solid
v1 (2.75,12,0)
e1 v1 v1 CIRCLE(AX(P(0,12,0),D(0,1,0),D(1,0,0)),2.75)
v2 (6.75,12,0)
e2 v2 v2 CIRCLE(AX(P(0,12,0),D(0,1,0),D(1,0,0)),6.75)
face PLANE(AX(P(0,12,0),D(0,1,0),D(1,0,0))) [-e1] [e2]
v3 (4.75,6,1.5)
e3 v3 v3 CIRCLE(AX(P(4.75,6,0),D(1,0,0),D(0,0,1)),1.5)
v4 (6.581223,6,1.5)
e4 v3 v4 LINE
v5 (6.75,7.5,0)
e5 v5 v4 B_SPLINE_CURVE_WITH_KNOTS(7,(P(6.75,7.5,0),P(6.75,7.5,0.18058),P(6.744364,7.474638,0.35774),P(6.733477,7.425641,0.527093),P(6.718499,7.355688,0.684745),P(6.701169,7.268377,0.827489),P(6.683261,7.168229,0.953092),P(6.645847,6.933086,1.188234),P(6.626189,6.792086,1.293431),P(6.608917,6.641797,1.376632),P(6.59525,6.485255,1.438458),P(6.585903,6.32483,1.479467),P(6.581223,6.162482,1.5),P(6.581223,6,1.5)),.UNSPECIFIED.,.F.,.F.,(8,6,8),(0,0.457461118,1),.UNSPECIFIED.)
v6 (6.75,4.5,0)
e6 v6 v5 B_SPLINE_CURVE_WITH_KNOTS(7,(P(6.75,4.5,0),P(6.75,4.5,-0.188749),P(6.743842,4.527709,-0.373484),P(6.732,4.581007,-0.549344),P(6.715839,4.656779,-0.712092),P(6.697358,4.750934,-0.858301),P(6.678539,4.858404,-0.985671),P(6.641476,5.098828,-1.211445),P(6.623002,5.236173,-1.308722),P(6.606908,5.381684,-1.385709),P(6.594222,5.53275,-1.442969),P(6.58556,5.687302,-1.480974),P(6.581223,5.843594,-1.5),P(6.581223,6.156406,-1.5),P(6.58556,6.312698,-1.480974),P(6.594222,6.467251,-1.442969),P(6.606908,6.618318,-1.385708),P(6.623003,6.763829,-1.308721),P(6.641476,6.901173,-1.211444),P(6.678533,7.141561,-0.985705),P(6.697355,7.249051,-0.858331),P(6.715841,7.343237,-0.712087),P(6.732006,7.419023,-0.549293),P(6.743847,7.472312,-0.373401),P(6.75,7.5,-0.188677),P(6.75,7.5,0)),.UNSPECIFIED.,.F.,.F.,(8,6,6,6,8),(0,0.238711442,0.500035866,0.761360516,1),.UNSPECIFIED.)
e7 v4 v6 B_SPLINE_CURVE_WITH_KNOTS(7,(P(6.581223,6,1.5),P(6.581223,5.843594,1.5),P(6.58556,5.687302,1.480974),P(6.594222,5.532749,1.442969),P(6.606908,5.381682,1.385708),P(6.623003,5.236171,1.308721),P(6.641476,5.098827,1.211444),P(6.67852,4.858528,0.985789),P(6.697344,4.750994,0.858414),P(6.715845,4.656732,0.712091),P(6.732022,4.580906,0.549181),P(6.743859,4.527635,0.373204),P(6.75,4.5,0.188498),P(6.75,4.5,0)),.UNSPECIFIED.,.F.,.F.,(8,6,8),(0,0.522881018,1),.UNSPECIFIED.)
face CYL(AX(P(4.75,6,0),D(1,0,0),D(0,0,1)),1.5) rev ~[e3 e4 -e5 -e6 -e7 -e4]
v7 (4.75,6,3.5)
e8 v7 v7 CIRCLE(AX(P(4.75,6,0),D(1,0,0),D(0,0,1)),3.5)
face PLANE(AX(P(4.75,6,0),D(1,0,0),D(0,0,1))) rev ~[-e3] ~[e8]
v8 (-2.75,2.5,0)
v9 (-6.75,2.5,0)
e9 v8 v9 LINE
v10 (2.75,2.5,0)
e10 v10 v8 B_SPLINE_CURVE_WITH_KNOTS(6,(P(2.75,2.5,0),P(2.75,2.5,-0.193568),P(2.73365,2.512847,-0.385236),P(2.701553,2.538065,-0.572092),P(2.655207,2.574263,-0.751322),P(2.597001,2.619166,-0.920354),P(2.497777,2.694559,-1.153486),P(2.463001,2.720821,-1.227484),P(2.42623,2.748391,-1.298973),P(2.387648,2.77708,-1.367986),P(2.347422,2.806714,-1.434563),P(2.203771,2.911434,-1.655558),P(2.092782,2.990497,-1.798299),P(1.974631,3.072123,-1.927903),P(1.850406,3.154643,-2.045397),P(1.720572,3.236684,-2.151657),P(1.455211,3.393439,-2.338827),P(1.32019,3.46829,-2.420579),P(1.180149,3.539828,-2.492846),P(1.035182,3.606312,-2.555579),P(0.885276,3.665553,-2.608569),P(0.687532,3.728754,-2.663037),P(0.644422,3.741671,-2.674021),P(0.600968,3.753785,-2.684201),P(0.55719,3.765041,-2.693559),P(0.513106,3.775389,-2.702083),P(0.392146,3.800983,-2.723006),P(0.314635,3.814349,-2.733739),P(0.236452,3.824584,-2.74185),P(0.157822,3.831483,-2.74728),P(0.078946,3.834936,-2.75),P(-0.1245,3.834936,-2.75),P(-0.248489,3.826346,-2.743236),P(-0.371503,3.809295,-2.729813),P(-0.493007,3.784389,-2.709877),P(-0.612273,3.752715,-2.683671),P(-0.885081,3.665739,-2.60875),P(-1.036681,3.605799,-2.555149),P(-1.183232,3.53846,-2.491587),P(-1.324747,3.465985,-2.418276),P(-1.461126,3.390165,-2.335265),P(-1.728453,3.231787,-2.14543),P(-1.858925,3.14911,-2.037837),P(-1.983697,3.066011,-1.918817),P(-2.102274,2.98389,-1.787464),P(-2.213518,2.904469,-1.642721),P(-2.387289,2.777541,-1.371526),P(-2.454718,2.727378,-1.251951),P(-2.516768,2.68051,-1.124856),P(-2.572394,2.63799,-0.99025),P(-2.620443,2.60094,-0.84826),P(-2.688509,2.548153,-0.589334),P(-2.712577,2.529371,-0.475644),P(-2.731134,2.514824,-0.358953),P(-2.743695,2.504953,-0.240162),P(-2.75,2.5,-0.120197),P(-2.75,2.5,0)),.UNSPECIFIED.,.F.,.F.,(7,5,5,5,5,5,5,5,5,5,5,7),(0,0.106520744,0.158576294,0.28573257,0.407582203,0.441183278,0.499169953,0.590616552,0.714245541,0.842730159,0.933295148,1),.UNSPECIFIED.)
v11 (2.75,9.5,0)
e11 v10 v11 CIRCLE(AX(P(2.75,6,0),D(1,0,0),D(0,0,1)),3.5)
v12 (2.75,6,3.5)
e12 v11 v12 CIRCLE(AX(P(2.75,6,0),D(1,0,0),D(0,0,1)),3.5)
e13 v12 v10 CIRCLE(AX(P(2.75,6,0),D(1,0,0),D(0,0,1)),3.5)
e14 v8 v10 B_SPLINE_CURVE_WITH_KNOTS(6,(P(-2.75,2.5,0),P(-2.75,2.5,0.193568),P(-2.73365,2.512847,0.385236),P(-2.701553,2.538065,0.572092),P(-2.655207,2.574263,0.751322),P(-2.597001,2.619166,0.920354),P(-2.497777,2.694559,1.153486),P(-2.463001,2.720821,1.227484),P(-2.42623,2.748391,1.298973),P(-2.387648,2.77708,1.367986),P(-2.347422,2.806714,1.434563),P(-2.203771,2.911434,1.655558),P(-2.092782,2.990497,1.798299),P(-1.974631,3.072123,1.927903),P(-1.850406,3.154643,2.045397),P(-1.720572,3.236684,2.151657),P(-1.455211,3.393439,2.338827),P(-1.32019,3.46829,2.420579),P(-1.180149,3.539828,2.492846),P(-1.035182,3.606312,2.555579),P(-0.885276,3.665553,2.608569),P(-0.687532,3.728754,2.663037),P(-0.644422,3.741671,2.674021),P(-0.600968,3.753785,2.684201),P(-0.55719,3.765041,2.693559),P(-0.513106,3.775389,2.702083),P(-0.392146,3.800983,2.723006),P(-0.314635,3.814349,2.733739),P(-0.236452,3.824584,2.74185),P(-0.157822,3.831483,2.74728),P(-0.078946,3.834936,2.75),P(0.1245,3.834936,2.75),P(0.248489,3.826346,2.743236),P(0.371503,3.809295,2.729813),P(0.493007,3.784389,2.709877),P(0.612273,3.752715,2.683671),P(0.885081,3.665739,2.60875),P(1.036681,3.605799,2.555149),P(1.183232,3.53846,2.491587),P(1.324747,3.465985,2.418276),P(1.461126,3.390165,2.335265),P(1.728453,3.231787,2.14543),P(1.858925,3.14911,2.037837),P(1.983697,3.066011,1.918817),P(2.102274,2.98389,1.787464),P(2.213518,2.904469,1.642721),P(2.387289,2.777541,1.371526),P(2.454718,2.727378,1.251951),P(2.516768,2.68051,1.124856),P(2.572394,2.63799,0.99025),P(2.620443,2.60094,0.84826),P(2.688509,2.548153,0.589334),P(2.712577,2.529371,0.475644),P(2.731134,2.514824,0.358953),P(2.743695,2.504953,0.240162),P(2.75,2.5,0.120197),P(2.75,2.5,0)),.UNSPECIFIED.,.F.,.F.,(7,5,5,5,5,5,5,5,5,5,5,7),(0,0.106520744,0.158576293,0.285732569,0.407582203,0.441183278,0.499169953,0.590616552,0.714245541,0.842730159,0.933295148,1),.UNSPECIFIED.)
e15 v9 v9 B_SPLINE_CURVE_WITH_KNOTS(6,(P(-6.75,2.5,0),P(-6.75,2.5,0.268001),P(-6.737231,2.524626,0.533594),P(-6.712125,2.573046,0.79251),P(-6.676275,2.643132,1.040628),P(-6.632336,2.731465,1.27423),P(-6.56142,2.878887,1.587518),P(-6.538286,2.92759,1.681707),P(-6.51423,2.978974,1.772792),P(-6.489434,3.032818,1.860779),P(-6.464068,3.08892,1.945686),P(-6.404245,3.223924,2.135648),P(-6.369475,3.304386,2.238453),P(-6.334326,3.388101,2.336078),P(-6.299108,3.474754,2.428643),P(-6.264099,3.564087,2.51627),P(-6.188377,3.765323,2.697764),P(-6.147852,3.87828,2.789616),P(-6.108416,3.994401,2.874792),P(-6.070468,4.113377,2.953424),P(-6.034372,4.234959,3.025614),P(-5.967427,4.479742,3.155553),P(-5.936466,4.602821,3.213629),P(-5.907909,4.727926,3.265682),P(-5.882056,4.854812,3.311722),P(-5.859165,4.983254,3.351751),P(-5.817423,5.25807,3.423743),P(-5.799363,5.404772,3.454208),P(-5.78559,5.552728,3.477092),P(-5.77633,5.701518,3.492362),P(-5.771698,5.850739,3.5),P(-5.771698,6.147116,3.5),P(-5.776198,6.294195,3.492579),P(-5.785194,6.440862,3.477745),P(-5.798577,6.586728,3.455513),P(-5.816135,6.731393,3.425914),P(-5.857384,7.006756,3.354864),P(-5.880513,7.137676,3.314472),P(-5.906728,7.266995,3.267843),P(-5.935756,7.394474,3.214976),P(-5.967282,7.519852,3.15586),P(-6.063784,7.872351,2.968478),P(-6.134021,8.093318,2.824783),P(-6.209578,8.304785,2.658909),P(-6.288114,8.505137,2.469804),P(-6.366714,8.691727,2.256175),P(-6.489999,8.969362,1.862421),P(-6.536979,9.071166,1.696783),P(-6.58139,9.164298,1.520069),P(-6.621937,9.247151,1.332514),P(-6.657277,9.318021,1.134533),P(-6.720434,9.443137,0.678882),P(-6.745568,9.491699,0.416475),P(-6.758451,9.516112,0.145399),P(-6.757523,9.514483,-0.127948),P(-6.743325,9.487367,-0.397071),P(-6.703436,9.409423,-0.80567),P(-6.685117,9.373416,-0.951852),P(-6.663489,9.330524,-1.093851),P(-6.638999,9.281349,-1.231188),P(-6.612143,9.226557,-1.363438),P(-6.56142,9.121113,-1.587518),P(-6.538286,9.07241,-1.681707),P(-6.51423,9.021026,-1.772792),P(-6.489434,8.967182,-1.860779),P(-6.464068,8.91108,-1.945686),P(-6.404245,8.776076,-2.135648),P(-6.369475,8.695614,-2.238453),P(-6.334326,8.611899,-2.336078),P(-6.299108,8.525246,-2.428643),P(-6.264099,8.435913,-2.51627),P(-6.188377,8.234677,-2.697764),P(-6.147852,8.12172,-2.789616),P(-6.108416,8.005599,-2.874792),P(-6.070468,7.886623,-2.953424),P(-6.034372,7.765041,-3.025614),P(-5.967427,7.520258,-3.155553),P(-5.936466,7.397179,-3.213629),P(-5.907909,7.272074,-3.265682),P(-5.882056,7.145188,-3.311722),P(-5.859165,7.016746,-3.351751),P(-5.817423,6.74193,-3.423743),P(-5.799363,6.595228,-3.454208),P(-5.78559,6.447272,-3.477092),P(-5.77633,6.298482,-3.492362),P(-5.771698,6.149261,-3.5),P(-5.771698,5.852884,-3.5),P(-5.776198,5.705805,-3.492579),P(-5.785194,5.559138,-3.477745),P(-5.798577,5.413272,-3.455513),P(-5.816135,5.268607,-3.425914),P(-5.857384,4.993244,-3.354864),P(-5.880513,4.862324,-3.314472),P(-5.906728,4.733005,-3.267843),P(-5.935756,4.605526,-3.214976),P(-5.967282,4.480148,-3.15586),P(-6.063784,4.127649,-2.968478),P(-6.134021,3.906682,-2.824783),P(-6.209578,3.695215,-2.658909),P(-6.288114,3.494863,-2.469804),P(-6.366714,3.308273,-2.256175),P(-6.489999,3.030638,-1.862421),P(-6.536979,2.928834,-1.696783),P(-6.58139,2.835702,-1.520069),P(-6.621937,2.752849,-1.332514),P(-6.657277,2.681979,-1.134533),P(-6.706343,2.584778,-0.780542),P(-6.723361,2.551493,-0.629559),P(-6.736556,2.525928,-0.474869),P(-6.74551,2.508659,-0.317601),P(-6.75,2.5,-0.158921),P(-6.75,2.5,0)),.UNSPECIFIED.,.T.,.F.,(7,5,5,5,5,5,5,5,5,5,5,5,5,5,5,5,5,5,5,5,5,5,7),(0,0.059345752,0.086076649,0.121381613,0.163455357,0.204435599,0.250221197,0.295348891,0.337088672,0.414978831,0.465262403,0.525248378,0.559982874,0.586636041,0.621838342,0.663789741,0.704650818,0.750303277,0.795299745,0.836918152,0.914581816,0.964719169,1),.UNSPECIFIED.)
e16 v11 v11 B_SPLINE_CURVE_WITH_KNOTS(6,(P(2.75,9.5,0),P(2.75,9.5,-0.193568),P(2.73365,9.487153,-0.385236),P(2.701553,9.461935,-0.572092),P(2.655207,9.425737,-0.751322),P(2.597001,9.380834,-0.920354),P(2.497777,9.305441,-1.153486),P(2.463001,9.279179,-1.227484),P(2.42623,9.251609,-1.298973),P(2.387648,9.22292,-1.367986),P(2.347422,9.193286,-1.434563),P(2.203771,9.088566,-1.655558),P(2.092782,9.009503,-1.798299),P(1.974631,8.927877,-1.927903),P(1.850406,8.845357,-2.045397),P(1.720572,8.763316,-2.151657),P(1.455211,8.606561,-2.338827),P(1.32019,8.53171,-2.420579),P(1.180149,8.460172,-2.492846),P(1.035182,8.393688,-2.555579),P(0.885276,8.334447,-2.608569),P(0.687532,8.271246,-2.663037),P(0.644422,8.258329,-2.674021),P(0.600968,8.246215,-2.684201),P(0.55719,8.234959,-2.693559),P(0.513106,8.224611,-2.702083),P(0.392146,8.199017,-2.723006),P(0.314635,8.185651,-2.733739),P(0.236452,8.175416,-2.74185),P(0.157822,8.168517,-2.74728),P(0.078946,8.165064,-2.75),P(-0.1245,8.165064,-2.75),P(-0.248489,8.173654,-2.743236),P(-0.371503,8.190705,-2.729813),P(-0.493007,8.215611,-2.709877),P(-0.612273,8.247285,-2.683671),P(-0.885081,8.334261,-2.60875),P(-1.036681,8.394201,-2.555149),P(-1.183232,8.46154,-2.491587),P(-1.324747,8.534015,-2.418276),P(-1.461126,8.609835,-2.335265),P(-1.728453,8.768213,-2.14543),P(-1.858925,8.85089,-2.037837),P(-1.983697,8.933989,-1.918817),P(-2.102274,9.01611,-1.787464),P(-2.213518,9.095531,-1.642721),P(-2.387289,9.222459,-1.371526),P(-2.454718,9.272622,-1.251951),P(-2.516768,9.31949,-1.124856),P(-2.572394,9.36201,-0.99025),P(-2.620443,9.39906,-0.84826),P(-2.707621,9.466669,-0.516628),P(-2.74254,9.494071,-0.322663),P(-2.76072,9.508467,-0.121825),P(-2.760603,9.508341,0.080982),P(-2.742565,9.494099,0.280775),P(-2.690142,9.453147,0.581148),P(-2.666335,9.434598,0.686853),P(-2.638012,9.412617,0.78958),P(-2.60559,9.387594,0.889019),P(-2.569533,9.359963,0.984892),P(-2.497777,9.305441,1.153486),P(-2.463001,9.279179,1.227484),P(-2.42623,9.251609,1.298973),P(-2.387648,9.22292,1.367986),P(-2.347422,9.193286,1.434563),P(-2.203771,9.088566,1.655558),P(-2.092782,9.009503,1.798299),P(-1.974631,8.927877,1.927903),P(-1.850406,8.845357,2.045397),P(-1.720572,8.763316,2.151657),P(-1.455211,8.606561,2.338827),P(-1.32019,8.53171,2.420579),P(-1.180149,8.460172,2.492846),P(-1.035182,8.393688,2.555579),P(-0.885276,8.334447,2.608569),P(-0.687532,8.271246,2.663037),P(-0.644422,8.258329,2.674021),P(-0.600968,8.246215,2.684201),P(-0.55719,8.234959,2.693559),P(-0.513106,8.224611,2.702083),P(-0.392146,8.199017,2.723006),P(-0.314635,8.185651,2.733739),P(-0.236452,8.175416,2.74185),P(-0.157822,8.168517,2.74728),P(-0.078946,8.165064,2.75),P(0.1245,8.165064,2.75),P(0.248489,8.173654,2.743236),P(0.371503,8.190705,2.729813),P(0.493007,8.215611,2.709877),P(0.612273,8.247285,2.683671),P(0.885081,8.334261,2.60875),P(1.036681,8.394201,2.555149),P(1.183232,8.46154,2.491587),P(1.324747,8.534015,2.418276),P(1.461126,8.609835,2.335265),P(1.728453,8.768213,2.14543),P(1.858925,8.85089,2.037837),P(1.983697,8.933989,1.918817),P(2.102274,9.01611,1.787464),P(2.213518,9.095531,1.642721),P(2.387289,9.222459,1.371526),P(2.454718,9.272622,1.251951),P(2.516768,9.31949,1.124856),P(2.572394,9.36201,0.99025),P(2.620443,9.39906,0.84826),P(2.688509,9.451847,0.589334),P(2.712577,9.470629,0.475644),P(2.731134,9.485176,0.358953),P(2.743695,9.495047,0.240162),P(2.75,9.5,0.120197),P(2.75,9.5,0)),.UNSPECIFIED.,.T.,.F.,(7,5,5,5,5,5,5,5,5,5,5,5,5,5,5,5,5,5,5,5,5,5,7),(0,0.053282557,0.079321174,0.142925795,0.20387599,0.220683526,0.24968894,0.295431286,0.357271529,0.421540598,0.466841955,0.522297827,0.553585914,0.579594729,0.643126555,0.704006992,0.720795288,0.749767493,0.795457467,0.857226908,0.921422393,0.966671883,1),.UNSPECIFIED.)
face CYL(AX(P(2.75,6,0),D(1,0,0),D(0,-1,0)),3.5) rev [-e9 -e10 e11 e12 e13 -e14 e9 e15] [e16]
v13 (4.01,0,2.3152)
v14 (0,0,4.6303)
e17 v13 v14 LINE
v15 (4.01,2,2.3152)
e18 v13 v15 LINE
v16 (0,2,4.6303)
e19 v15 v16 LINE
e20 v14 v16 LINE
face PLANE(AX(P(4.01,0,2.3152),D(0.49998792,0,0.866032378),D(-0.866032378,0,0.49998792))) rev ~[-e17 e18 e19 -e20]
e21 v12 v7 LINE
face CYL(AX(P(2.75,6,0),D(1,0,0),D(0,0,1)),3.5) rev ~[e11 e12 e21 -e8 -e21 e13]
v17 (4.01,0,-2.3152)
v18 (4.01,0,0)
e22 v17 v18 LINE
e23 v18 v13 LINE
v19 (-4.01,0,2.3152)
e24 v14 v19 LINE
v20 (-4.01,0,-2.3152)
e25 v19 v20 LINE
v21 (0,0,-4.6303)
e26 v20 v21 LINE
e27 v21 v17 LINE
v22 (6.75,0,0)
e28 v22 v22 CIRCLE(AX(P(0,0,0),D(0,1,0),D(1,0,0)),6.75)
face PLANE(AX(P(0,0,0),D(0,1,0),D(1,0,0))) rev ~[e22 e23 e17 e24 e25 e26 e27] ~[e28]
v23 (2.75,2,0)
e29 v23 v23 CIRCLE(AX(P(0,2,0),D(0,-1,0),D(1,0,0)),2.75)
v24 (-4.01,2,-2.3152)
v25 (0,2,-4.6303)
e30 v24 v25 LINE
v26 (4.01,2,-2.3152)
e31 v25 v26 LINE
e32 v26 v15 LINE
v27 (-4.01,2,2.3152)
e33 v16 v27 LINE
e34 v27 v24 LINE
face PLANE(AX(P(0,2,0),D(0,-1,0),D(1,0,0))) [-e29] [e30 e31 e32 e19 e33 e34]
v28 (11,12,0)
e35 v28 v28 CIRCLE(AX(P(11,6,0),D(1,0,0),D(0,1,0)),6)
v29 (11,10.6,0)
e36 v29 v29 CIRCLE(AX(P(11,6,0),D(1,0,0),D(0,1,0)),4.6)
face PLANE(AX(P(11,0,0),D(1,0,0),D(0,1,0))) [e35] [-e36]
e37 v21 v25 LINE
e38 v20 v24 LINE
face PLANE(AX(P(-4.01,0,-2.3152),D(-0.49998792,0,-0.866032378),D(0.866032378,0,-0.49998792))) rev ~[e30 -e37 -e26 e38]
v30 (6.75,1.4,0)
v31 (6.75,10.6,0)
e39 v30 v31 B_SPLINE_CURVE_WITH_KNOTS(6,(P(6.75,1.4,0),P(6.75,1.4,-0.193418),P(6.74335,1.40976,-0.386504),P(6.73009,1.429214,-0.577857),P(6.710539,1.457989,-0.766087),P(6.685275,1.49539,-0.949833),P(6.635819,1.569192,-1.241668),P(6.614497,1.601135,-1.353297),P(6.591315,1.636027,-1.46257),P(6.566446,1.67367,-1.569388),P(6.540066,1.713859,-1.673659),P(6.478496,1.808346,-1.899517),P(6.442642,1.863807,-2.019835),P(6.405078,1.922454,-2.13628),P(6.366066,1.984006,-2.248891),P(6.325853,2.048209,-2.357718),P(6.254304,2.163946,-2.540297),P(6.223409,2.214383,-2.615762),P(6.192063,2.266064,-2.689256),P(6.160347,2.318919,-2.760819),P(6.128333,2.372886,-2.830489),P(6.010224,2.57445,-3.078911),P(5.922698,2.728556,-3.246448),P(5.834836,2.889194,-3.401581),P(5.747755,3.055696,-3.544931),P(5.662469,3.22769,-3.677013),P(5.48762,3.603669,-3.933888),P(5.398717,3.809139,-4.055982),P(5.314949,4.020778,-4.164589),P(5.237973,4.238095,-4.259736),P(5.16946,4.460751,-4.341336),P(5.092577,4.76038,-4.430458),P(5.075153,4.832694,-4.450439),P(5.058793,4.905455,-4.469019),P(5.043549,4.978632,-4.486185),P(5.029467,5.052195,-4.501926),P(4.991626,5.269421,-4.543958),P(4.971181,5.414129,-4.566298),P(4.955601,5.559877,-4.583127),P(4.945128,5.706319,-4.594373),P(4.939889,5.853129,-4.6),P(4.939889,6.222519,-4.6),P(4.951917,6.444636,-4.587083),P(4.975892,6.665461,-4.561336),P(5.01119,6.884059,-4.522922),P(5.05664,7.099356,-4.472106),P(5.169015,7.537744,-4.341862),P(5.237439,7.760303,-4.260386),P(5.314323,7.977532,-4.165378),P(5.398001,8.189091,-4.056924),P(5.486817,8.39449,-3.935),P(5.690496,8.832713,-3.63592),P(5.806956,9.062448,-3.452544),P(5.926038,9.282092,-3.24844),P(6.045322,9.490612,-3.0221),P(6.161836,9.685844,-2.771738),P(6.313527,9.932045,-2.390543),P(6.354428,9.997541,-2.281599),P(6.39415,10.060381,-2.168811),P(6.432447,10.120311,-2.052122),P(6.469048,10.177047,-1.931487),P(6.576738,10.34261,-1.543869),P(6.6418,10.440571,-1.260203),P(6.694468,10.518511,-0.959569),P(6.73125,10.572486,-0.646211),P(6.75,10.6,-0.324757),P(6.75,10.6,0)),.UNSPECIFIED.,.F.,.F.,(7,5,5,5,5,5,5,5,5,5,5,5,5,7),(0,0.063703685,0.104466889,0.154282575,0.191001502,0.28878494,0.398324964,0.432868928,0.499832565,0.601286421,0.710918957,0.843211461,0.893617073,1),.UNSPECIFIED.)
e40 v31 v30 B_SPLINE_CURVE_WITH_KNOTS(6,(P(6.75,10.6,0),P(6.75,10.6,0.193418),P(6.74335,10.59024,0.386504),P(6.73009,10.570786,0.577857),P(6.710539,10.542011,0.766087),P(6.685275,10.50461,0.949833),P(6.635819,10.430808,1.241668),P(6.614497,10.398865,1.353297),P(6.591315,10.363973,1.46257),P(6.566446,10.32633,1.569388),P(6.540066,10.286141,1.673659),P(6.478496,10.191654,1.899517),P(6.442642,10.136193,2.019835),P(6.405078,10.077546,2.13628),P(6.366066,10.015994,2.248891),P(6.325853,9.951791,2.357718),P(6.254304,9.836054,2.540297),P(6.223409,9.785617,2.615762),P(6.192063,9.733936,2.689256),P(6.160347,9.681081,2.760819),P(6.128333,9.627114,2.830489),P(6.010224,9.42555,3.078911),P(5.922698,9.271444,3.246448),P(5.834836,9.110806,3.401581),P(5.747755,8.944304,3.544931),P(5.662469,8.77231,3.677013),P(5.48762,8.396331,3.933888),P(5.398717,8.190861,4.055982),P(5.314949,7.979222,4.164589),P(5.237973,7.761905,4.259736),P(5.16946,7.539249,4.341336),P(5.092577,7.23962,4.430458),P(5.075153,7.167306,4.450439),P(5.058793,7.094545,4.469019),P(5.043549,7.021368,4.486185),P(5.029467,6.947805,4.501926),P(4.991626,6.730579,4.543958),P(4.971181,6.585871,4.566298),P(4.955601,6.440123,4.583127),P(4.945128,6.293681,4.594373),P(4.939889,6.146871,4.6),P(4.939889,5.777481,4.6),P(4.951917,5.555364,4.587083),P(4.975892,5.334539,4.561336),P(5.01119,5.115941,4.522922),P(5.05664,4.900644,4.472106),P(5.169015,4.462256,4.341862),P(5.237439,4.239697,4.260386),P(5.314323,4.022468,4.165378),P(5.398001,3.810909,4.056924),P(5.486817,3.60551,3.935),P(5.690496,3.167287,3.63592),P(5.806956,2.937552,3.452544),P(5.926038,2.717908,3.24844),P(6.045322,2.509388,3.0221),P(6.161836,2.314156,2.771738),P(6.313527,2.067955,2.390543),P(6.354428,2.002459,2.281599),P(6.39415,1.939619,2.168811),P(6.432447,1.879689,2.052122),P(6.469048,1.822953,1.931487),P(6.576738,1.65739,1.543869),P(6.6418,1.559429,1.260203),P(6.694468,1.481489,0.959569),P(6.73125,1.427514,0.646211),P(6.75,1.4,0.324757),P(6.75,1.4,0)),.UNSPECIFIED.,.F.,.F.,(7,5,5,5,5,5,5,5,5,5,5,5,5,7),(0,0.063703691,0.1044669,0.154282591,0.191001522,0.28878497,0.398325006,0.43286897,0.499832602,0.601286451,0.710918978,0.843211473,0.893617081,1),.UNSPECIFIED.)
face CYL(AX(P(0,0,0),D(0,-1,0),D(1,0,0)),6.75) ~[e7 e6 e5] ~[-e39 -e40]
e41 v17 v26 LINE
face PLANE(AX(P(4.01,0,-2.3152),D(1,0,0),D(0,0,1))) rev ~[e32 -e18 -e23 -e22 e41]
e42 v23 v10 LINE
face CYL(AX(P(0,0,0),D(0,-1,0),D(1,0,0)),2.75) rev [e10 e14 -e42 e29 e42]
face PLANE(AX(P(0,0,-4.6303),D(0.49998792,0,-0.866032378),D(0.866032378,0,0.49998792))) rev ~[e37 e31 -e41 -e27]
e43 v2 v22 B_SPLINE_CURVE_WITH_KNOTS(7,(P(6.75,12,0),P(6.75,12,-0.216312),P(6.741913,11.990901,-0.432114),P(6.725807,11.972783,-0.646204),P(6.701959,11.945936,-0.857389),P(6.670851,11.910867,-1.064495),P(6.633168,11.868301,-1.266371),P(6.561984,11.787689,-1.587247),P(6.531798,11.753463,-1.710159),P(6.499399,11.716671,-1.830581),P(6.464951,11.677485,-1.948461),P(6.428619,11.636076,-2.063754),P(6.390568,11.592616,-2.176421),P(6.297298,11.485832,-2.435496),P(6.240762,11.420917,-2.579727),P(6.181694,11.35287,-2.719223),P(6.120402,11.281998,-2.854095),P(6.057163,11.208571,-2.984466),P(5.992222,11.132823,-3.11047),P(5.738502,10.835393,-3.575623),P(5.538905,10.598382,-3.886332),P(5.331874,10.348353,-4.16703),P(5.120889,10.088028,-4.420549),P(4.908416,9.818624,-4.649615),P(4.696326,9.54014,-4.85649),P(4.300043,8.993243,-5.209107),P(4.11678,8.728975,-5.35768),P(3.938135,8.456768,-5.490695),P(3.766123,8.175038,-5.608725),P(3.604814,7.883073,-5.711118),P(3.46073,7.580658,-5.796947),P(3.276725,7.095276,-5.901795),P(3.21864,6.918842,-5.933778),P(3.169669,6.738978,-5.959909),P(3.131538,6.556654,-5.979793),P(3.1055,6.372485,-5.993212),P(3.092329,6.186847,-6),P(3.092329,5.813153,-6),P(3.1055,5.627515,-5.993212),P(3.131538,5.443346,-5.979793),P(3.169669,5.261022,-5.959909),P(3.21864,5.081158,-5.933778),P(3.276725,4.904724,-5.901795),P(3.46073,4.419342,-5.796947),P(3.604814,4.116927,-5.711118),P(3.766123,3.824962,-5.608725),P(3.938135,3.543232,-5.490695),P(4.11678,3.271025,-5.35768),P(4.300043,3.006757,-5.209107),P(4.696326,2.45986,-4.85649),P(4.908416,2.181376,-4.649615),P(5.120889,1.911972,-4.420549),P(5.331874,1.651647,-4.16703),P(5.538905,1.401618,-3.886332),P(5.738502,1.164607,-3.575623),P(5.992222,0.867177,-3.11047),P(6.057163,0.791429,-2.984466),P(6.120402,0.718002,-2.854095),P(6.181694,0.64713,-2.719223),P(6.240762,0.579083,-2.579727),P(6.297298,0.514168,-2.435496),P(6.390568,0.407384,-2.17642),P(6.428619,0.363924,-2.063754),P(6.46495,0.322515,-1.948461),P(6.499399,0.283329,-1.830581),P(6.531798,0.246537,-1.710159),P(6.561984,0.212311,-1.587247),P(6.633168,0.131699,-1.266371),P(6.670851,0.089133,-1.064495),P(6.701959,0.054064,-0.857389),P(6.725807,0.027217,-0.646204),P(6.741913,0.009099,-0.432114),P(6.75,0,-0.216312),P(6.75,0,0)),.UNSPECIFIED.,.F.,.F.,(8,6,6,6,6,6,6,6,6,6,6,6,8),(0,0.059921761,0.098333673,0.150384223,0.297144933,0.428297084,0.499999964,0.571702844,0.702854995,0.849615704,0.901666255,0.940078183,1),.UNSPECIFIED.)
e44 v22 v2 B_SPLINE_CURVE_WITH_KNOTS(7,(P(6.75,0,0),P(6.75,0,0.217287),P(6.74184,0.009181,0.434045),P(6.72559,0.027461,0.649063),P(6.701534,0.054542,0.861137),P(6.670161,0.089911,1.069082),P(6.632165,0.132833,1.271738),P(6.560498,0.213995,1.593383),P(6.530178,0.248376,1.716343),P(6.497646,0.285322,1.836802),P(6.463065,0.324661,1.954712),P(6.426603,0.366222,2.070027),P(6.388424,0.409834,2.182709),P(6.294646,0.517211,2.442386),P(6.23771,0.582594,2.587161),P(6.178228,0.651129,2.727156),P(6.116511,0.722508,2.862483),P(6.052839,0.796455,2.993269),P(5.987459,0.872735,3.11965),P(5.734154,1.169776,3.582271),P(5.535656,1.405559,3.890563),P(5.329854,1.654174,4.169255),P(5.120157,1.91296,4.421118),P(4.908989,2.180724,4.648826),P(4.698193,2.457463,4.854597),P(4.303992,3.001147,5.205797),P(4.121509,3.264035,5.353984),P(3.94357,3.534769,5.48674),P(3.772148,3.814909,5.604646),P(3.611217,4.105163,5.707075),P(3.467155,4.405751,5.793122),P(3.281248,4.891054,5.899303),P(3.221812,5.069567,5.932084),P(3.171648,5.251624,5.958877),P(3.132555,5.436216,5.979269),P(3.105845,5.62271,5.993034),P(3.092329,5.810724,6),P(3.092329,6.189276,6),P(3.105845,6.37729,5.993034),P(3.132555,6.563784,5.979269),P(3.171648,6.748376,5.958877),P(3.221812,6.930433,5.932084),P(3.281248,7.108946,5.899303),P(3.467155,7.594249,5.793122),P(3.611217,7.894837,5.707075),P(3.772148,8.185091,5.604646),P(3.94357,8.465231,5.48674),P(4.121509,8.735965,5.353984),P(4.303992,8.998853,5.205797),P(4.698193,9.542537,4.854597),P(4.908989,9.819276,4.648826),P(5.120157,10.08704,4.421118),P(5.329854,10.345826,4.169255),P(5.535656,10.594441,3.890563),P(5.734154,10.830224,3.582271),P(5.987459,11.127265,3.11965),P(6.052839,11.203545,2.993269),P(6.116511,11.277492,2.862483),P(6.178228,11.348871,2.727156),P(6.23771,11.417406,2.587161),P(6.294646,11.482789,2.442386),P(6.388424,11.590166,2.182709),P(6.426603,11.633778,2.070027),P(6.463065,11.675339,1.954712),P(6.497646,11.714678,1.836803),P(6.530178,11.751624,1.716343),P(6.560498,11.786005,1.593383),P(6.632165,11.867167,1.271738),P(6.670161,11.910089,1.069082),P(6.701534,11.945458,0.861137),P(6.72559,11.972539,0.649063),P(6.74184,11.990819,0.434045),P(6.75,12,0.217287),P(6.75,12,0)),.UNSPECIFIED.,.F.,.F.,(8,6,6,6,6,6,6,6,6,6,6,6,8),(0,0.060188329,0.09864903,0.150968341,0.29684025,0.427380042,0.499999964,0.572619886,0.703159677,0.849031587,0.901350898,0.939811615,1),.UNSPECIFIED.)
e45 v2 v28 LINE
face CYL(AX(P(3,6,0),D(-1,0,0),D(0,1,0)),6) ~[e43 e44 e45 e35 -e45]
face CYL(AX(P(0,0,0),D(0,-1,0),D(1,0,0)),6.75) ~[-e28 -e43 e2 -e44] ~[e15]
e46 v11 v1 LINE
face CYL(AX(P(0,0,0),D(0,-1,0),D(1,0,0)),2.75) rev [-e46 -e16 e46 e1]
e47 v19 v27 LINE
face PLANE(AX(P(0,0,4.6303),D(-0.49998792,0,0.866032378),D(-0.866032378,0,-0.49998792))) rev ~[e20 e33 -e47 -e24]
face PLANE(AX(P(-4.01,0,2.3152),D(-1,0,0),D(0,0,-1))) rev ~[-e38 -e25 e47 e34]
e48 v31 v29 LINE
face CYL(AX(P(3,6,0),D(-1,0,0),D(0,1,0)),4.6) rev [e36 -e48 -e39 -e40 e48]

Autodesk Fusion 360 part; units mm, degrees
sketch "Sketch1" plane through (0, 0, 0) normal (0, 1, 0) x (1, 0, 0)
  circle A0 centre (0, 0) radius 2.75
  circle A1 centre (0, 0) radius 6.75
  dimension "d1" = 5.5
  dimension "d2" = 4
extrude "Extrude1" add sketch "Sketch1" along normal blind 12
ref_plane "WorkPlane1" through (3, 0, 0) normal (1, 0, 0) x (0, 1, 0)
sketch "Sketch2" plane through (3, 0, 0) normal (1, 0, 0) x (0, 1, 0)
  line L0 (12, -6.75) -> (12, 6.75)
  line L1 (0, -6.75) -> (0, 6.75)
  circle A0 centre (6, 0) radius 4.6
  circle A1 centre (6, 0) radius 6
  dimension "d6" = 9.2
  dimension "d7" = 6
  dimension "d8" = 12
  dimension "d9" = 1.4
extrude "Extrude2" add sketch "Sketch2" along normal blind 8
ref_plane "WorkPlane2" through (2.75, 6.403, 0) normal (-1, 0, 0) x (0, 0, -1)
sketch "Sketch3" plane through (2.75, 6.403, 0) normal (-1, 0, 0) x (0, -1, 0)
  line L0 (-5.597, -2.75) -> (-5.597, 2.75)
  line L1 (6.403, -2.75) -> (6.403, 2.75)
  line L2 (6.403, -2.75) -> (6.403, 2.75)
  line L3 (-5.597, -2.75) -> (-5.597, 2.75)
  circle A0 centre (0.403, 0) radius 3.5
  point P0 (0.403, 0)
  dimension "d13" = 6
  dimension "d14" = 12
  dimension "d20" = 7
hole "Hole1" at (2.75, 6, 0) direction (1, 0, 0) diameter 3 depth 10 tip angle 118 counterbore diameter 7 counterbore depth 2
extrude "Extrude3" cut sketch "Sketch3" along normal blind 14.5
sketch "Sketch4" plane through (0, 0, 0) normal (0, -1, 0) x (1, 0, 0)
  circle A0 centre (0, 0) radius 2.75
  circle A1 centre (0, 0) radius 6.75
  line L0 (4, 2.3094) -> (0, 4.6188)
  line L1 (0, 4.6188) -> (-4, 2.3094)
  line L2 (-4, 2.3094) -> (-4, -2.3094)
  line L3 (-4, -2.3094) -> (0, -4.6188)
  line L4 (0, -4.6188) -> (4, -2.3094)
  line L5 (4, -2.3094) -> (4, 2.3094)
  line L6 (-4.01, -2.3152) -> (0, -4.6303)
  line L7 (0, -4.6303) -> (4.01, -2.3152)
  line L8 (4.01, -2.3152) -> (4.01, 2.3152)
  line L9 (4.01, 2.3152) -> (0, 4.6303)
  line L10 (0, 4.6303) -> (-4.01, 2.3152)
  line L11 (-4.01, 2.3152) -> (-4.01, -2.3152)
  dimension "d23" = 0.01
extrude "Extrude4" cut sketch "Sketch4" against normal blind 2 contours L0 L1 L2 L3 L4 L5 | L6 L7 L8 L9 L10 L11
equation "d1 = 5 mm + 0.5 mm"
equation "d6 = 9 mm + 0.2 mm"
equation "d7 = d8 / 2"
equation "d13 = d14 / 2"
